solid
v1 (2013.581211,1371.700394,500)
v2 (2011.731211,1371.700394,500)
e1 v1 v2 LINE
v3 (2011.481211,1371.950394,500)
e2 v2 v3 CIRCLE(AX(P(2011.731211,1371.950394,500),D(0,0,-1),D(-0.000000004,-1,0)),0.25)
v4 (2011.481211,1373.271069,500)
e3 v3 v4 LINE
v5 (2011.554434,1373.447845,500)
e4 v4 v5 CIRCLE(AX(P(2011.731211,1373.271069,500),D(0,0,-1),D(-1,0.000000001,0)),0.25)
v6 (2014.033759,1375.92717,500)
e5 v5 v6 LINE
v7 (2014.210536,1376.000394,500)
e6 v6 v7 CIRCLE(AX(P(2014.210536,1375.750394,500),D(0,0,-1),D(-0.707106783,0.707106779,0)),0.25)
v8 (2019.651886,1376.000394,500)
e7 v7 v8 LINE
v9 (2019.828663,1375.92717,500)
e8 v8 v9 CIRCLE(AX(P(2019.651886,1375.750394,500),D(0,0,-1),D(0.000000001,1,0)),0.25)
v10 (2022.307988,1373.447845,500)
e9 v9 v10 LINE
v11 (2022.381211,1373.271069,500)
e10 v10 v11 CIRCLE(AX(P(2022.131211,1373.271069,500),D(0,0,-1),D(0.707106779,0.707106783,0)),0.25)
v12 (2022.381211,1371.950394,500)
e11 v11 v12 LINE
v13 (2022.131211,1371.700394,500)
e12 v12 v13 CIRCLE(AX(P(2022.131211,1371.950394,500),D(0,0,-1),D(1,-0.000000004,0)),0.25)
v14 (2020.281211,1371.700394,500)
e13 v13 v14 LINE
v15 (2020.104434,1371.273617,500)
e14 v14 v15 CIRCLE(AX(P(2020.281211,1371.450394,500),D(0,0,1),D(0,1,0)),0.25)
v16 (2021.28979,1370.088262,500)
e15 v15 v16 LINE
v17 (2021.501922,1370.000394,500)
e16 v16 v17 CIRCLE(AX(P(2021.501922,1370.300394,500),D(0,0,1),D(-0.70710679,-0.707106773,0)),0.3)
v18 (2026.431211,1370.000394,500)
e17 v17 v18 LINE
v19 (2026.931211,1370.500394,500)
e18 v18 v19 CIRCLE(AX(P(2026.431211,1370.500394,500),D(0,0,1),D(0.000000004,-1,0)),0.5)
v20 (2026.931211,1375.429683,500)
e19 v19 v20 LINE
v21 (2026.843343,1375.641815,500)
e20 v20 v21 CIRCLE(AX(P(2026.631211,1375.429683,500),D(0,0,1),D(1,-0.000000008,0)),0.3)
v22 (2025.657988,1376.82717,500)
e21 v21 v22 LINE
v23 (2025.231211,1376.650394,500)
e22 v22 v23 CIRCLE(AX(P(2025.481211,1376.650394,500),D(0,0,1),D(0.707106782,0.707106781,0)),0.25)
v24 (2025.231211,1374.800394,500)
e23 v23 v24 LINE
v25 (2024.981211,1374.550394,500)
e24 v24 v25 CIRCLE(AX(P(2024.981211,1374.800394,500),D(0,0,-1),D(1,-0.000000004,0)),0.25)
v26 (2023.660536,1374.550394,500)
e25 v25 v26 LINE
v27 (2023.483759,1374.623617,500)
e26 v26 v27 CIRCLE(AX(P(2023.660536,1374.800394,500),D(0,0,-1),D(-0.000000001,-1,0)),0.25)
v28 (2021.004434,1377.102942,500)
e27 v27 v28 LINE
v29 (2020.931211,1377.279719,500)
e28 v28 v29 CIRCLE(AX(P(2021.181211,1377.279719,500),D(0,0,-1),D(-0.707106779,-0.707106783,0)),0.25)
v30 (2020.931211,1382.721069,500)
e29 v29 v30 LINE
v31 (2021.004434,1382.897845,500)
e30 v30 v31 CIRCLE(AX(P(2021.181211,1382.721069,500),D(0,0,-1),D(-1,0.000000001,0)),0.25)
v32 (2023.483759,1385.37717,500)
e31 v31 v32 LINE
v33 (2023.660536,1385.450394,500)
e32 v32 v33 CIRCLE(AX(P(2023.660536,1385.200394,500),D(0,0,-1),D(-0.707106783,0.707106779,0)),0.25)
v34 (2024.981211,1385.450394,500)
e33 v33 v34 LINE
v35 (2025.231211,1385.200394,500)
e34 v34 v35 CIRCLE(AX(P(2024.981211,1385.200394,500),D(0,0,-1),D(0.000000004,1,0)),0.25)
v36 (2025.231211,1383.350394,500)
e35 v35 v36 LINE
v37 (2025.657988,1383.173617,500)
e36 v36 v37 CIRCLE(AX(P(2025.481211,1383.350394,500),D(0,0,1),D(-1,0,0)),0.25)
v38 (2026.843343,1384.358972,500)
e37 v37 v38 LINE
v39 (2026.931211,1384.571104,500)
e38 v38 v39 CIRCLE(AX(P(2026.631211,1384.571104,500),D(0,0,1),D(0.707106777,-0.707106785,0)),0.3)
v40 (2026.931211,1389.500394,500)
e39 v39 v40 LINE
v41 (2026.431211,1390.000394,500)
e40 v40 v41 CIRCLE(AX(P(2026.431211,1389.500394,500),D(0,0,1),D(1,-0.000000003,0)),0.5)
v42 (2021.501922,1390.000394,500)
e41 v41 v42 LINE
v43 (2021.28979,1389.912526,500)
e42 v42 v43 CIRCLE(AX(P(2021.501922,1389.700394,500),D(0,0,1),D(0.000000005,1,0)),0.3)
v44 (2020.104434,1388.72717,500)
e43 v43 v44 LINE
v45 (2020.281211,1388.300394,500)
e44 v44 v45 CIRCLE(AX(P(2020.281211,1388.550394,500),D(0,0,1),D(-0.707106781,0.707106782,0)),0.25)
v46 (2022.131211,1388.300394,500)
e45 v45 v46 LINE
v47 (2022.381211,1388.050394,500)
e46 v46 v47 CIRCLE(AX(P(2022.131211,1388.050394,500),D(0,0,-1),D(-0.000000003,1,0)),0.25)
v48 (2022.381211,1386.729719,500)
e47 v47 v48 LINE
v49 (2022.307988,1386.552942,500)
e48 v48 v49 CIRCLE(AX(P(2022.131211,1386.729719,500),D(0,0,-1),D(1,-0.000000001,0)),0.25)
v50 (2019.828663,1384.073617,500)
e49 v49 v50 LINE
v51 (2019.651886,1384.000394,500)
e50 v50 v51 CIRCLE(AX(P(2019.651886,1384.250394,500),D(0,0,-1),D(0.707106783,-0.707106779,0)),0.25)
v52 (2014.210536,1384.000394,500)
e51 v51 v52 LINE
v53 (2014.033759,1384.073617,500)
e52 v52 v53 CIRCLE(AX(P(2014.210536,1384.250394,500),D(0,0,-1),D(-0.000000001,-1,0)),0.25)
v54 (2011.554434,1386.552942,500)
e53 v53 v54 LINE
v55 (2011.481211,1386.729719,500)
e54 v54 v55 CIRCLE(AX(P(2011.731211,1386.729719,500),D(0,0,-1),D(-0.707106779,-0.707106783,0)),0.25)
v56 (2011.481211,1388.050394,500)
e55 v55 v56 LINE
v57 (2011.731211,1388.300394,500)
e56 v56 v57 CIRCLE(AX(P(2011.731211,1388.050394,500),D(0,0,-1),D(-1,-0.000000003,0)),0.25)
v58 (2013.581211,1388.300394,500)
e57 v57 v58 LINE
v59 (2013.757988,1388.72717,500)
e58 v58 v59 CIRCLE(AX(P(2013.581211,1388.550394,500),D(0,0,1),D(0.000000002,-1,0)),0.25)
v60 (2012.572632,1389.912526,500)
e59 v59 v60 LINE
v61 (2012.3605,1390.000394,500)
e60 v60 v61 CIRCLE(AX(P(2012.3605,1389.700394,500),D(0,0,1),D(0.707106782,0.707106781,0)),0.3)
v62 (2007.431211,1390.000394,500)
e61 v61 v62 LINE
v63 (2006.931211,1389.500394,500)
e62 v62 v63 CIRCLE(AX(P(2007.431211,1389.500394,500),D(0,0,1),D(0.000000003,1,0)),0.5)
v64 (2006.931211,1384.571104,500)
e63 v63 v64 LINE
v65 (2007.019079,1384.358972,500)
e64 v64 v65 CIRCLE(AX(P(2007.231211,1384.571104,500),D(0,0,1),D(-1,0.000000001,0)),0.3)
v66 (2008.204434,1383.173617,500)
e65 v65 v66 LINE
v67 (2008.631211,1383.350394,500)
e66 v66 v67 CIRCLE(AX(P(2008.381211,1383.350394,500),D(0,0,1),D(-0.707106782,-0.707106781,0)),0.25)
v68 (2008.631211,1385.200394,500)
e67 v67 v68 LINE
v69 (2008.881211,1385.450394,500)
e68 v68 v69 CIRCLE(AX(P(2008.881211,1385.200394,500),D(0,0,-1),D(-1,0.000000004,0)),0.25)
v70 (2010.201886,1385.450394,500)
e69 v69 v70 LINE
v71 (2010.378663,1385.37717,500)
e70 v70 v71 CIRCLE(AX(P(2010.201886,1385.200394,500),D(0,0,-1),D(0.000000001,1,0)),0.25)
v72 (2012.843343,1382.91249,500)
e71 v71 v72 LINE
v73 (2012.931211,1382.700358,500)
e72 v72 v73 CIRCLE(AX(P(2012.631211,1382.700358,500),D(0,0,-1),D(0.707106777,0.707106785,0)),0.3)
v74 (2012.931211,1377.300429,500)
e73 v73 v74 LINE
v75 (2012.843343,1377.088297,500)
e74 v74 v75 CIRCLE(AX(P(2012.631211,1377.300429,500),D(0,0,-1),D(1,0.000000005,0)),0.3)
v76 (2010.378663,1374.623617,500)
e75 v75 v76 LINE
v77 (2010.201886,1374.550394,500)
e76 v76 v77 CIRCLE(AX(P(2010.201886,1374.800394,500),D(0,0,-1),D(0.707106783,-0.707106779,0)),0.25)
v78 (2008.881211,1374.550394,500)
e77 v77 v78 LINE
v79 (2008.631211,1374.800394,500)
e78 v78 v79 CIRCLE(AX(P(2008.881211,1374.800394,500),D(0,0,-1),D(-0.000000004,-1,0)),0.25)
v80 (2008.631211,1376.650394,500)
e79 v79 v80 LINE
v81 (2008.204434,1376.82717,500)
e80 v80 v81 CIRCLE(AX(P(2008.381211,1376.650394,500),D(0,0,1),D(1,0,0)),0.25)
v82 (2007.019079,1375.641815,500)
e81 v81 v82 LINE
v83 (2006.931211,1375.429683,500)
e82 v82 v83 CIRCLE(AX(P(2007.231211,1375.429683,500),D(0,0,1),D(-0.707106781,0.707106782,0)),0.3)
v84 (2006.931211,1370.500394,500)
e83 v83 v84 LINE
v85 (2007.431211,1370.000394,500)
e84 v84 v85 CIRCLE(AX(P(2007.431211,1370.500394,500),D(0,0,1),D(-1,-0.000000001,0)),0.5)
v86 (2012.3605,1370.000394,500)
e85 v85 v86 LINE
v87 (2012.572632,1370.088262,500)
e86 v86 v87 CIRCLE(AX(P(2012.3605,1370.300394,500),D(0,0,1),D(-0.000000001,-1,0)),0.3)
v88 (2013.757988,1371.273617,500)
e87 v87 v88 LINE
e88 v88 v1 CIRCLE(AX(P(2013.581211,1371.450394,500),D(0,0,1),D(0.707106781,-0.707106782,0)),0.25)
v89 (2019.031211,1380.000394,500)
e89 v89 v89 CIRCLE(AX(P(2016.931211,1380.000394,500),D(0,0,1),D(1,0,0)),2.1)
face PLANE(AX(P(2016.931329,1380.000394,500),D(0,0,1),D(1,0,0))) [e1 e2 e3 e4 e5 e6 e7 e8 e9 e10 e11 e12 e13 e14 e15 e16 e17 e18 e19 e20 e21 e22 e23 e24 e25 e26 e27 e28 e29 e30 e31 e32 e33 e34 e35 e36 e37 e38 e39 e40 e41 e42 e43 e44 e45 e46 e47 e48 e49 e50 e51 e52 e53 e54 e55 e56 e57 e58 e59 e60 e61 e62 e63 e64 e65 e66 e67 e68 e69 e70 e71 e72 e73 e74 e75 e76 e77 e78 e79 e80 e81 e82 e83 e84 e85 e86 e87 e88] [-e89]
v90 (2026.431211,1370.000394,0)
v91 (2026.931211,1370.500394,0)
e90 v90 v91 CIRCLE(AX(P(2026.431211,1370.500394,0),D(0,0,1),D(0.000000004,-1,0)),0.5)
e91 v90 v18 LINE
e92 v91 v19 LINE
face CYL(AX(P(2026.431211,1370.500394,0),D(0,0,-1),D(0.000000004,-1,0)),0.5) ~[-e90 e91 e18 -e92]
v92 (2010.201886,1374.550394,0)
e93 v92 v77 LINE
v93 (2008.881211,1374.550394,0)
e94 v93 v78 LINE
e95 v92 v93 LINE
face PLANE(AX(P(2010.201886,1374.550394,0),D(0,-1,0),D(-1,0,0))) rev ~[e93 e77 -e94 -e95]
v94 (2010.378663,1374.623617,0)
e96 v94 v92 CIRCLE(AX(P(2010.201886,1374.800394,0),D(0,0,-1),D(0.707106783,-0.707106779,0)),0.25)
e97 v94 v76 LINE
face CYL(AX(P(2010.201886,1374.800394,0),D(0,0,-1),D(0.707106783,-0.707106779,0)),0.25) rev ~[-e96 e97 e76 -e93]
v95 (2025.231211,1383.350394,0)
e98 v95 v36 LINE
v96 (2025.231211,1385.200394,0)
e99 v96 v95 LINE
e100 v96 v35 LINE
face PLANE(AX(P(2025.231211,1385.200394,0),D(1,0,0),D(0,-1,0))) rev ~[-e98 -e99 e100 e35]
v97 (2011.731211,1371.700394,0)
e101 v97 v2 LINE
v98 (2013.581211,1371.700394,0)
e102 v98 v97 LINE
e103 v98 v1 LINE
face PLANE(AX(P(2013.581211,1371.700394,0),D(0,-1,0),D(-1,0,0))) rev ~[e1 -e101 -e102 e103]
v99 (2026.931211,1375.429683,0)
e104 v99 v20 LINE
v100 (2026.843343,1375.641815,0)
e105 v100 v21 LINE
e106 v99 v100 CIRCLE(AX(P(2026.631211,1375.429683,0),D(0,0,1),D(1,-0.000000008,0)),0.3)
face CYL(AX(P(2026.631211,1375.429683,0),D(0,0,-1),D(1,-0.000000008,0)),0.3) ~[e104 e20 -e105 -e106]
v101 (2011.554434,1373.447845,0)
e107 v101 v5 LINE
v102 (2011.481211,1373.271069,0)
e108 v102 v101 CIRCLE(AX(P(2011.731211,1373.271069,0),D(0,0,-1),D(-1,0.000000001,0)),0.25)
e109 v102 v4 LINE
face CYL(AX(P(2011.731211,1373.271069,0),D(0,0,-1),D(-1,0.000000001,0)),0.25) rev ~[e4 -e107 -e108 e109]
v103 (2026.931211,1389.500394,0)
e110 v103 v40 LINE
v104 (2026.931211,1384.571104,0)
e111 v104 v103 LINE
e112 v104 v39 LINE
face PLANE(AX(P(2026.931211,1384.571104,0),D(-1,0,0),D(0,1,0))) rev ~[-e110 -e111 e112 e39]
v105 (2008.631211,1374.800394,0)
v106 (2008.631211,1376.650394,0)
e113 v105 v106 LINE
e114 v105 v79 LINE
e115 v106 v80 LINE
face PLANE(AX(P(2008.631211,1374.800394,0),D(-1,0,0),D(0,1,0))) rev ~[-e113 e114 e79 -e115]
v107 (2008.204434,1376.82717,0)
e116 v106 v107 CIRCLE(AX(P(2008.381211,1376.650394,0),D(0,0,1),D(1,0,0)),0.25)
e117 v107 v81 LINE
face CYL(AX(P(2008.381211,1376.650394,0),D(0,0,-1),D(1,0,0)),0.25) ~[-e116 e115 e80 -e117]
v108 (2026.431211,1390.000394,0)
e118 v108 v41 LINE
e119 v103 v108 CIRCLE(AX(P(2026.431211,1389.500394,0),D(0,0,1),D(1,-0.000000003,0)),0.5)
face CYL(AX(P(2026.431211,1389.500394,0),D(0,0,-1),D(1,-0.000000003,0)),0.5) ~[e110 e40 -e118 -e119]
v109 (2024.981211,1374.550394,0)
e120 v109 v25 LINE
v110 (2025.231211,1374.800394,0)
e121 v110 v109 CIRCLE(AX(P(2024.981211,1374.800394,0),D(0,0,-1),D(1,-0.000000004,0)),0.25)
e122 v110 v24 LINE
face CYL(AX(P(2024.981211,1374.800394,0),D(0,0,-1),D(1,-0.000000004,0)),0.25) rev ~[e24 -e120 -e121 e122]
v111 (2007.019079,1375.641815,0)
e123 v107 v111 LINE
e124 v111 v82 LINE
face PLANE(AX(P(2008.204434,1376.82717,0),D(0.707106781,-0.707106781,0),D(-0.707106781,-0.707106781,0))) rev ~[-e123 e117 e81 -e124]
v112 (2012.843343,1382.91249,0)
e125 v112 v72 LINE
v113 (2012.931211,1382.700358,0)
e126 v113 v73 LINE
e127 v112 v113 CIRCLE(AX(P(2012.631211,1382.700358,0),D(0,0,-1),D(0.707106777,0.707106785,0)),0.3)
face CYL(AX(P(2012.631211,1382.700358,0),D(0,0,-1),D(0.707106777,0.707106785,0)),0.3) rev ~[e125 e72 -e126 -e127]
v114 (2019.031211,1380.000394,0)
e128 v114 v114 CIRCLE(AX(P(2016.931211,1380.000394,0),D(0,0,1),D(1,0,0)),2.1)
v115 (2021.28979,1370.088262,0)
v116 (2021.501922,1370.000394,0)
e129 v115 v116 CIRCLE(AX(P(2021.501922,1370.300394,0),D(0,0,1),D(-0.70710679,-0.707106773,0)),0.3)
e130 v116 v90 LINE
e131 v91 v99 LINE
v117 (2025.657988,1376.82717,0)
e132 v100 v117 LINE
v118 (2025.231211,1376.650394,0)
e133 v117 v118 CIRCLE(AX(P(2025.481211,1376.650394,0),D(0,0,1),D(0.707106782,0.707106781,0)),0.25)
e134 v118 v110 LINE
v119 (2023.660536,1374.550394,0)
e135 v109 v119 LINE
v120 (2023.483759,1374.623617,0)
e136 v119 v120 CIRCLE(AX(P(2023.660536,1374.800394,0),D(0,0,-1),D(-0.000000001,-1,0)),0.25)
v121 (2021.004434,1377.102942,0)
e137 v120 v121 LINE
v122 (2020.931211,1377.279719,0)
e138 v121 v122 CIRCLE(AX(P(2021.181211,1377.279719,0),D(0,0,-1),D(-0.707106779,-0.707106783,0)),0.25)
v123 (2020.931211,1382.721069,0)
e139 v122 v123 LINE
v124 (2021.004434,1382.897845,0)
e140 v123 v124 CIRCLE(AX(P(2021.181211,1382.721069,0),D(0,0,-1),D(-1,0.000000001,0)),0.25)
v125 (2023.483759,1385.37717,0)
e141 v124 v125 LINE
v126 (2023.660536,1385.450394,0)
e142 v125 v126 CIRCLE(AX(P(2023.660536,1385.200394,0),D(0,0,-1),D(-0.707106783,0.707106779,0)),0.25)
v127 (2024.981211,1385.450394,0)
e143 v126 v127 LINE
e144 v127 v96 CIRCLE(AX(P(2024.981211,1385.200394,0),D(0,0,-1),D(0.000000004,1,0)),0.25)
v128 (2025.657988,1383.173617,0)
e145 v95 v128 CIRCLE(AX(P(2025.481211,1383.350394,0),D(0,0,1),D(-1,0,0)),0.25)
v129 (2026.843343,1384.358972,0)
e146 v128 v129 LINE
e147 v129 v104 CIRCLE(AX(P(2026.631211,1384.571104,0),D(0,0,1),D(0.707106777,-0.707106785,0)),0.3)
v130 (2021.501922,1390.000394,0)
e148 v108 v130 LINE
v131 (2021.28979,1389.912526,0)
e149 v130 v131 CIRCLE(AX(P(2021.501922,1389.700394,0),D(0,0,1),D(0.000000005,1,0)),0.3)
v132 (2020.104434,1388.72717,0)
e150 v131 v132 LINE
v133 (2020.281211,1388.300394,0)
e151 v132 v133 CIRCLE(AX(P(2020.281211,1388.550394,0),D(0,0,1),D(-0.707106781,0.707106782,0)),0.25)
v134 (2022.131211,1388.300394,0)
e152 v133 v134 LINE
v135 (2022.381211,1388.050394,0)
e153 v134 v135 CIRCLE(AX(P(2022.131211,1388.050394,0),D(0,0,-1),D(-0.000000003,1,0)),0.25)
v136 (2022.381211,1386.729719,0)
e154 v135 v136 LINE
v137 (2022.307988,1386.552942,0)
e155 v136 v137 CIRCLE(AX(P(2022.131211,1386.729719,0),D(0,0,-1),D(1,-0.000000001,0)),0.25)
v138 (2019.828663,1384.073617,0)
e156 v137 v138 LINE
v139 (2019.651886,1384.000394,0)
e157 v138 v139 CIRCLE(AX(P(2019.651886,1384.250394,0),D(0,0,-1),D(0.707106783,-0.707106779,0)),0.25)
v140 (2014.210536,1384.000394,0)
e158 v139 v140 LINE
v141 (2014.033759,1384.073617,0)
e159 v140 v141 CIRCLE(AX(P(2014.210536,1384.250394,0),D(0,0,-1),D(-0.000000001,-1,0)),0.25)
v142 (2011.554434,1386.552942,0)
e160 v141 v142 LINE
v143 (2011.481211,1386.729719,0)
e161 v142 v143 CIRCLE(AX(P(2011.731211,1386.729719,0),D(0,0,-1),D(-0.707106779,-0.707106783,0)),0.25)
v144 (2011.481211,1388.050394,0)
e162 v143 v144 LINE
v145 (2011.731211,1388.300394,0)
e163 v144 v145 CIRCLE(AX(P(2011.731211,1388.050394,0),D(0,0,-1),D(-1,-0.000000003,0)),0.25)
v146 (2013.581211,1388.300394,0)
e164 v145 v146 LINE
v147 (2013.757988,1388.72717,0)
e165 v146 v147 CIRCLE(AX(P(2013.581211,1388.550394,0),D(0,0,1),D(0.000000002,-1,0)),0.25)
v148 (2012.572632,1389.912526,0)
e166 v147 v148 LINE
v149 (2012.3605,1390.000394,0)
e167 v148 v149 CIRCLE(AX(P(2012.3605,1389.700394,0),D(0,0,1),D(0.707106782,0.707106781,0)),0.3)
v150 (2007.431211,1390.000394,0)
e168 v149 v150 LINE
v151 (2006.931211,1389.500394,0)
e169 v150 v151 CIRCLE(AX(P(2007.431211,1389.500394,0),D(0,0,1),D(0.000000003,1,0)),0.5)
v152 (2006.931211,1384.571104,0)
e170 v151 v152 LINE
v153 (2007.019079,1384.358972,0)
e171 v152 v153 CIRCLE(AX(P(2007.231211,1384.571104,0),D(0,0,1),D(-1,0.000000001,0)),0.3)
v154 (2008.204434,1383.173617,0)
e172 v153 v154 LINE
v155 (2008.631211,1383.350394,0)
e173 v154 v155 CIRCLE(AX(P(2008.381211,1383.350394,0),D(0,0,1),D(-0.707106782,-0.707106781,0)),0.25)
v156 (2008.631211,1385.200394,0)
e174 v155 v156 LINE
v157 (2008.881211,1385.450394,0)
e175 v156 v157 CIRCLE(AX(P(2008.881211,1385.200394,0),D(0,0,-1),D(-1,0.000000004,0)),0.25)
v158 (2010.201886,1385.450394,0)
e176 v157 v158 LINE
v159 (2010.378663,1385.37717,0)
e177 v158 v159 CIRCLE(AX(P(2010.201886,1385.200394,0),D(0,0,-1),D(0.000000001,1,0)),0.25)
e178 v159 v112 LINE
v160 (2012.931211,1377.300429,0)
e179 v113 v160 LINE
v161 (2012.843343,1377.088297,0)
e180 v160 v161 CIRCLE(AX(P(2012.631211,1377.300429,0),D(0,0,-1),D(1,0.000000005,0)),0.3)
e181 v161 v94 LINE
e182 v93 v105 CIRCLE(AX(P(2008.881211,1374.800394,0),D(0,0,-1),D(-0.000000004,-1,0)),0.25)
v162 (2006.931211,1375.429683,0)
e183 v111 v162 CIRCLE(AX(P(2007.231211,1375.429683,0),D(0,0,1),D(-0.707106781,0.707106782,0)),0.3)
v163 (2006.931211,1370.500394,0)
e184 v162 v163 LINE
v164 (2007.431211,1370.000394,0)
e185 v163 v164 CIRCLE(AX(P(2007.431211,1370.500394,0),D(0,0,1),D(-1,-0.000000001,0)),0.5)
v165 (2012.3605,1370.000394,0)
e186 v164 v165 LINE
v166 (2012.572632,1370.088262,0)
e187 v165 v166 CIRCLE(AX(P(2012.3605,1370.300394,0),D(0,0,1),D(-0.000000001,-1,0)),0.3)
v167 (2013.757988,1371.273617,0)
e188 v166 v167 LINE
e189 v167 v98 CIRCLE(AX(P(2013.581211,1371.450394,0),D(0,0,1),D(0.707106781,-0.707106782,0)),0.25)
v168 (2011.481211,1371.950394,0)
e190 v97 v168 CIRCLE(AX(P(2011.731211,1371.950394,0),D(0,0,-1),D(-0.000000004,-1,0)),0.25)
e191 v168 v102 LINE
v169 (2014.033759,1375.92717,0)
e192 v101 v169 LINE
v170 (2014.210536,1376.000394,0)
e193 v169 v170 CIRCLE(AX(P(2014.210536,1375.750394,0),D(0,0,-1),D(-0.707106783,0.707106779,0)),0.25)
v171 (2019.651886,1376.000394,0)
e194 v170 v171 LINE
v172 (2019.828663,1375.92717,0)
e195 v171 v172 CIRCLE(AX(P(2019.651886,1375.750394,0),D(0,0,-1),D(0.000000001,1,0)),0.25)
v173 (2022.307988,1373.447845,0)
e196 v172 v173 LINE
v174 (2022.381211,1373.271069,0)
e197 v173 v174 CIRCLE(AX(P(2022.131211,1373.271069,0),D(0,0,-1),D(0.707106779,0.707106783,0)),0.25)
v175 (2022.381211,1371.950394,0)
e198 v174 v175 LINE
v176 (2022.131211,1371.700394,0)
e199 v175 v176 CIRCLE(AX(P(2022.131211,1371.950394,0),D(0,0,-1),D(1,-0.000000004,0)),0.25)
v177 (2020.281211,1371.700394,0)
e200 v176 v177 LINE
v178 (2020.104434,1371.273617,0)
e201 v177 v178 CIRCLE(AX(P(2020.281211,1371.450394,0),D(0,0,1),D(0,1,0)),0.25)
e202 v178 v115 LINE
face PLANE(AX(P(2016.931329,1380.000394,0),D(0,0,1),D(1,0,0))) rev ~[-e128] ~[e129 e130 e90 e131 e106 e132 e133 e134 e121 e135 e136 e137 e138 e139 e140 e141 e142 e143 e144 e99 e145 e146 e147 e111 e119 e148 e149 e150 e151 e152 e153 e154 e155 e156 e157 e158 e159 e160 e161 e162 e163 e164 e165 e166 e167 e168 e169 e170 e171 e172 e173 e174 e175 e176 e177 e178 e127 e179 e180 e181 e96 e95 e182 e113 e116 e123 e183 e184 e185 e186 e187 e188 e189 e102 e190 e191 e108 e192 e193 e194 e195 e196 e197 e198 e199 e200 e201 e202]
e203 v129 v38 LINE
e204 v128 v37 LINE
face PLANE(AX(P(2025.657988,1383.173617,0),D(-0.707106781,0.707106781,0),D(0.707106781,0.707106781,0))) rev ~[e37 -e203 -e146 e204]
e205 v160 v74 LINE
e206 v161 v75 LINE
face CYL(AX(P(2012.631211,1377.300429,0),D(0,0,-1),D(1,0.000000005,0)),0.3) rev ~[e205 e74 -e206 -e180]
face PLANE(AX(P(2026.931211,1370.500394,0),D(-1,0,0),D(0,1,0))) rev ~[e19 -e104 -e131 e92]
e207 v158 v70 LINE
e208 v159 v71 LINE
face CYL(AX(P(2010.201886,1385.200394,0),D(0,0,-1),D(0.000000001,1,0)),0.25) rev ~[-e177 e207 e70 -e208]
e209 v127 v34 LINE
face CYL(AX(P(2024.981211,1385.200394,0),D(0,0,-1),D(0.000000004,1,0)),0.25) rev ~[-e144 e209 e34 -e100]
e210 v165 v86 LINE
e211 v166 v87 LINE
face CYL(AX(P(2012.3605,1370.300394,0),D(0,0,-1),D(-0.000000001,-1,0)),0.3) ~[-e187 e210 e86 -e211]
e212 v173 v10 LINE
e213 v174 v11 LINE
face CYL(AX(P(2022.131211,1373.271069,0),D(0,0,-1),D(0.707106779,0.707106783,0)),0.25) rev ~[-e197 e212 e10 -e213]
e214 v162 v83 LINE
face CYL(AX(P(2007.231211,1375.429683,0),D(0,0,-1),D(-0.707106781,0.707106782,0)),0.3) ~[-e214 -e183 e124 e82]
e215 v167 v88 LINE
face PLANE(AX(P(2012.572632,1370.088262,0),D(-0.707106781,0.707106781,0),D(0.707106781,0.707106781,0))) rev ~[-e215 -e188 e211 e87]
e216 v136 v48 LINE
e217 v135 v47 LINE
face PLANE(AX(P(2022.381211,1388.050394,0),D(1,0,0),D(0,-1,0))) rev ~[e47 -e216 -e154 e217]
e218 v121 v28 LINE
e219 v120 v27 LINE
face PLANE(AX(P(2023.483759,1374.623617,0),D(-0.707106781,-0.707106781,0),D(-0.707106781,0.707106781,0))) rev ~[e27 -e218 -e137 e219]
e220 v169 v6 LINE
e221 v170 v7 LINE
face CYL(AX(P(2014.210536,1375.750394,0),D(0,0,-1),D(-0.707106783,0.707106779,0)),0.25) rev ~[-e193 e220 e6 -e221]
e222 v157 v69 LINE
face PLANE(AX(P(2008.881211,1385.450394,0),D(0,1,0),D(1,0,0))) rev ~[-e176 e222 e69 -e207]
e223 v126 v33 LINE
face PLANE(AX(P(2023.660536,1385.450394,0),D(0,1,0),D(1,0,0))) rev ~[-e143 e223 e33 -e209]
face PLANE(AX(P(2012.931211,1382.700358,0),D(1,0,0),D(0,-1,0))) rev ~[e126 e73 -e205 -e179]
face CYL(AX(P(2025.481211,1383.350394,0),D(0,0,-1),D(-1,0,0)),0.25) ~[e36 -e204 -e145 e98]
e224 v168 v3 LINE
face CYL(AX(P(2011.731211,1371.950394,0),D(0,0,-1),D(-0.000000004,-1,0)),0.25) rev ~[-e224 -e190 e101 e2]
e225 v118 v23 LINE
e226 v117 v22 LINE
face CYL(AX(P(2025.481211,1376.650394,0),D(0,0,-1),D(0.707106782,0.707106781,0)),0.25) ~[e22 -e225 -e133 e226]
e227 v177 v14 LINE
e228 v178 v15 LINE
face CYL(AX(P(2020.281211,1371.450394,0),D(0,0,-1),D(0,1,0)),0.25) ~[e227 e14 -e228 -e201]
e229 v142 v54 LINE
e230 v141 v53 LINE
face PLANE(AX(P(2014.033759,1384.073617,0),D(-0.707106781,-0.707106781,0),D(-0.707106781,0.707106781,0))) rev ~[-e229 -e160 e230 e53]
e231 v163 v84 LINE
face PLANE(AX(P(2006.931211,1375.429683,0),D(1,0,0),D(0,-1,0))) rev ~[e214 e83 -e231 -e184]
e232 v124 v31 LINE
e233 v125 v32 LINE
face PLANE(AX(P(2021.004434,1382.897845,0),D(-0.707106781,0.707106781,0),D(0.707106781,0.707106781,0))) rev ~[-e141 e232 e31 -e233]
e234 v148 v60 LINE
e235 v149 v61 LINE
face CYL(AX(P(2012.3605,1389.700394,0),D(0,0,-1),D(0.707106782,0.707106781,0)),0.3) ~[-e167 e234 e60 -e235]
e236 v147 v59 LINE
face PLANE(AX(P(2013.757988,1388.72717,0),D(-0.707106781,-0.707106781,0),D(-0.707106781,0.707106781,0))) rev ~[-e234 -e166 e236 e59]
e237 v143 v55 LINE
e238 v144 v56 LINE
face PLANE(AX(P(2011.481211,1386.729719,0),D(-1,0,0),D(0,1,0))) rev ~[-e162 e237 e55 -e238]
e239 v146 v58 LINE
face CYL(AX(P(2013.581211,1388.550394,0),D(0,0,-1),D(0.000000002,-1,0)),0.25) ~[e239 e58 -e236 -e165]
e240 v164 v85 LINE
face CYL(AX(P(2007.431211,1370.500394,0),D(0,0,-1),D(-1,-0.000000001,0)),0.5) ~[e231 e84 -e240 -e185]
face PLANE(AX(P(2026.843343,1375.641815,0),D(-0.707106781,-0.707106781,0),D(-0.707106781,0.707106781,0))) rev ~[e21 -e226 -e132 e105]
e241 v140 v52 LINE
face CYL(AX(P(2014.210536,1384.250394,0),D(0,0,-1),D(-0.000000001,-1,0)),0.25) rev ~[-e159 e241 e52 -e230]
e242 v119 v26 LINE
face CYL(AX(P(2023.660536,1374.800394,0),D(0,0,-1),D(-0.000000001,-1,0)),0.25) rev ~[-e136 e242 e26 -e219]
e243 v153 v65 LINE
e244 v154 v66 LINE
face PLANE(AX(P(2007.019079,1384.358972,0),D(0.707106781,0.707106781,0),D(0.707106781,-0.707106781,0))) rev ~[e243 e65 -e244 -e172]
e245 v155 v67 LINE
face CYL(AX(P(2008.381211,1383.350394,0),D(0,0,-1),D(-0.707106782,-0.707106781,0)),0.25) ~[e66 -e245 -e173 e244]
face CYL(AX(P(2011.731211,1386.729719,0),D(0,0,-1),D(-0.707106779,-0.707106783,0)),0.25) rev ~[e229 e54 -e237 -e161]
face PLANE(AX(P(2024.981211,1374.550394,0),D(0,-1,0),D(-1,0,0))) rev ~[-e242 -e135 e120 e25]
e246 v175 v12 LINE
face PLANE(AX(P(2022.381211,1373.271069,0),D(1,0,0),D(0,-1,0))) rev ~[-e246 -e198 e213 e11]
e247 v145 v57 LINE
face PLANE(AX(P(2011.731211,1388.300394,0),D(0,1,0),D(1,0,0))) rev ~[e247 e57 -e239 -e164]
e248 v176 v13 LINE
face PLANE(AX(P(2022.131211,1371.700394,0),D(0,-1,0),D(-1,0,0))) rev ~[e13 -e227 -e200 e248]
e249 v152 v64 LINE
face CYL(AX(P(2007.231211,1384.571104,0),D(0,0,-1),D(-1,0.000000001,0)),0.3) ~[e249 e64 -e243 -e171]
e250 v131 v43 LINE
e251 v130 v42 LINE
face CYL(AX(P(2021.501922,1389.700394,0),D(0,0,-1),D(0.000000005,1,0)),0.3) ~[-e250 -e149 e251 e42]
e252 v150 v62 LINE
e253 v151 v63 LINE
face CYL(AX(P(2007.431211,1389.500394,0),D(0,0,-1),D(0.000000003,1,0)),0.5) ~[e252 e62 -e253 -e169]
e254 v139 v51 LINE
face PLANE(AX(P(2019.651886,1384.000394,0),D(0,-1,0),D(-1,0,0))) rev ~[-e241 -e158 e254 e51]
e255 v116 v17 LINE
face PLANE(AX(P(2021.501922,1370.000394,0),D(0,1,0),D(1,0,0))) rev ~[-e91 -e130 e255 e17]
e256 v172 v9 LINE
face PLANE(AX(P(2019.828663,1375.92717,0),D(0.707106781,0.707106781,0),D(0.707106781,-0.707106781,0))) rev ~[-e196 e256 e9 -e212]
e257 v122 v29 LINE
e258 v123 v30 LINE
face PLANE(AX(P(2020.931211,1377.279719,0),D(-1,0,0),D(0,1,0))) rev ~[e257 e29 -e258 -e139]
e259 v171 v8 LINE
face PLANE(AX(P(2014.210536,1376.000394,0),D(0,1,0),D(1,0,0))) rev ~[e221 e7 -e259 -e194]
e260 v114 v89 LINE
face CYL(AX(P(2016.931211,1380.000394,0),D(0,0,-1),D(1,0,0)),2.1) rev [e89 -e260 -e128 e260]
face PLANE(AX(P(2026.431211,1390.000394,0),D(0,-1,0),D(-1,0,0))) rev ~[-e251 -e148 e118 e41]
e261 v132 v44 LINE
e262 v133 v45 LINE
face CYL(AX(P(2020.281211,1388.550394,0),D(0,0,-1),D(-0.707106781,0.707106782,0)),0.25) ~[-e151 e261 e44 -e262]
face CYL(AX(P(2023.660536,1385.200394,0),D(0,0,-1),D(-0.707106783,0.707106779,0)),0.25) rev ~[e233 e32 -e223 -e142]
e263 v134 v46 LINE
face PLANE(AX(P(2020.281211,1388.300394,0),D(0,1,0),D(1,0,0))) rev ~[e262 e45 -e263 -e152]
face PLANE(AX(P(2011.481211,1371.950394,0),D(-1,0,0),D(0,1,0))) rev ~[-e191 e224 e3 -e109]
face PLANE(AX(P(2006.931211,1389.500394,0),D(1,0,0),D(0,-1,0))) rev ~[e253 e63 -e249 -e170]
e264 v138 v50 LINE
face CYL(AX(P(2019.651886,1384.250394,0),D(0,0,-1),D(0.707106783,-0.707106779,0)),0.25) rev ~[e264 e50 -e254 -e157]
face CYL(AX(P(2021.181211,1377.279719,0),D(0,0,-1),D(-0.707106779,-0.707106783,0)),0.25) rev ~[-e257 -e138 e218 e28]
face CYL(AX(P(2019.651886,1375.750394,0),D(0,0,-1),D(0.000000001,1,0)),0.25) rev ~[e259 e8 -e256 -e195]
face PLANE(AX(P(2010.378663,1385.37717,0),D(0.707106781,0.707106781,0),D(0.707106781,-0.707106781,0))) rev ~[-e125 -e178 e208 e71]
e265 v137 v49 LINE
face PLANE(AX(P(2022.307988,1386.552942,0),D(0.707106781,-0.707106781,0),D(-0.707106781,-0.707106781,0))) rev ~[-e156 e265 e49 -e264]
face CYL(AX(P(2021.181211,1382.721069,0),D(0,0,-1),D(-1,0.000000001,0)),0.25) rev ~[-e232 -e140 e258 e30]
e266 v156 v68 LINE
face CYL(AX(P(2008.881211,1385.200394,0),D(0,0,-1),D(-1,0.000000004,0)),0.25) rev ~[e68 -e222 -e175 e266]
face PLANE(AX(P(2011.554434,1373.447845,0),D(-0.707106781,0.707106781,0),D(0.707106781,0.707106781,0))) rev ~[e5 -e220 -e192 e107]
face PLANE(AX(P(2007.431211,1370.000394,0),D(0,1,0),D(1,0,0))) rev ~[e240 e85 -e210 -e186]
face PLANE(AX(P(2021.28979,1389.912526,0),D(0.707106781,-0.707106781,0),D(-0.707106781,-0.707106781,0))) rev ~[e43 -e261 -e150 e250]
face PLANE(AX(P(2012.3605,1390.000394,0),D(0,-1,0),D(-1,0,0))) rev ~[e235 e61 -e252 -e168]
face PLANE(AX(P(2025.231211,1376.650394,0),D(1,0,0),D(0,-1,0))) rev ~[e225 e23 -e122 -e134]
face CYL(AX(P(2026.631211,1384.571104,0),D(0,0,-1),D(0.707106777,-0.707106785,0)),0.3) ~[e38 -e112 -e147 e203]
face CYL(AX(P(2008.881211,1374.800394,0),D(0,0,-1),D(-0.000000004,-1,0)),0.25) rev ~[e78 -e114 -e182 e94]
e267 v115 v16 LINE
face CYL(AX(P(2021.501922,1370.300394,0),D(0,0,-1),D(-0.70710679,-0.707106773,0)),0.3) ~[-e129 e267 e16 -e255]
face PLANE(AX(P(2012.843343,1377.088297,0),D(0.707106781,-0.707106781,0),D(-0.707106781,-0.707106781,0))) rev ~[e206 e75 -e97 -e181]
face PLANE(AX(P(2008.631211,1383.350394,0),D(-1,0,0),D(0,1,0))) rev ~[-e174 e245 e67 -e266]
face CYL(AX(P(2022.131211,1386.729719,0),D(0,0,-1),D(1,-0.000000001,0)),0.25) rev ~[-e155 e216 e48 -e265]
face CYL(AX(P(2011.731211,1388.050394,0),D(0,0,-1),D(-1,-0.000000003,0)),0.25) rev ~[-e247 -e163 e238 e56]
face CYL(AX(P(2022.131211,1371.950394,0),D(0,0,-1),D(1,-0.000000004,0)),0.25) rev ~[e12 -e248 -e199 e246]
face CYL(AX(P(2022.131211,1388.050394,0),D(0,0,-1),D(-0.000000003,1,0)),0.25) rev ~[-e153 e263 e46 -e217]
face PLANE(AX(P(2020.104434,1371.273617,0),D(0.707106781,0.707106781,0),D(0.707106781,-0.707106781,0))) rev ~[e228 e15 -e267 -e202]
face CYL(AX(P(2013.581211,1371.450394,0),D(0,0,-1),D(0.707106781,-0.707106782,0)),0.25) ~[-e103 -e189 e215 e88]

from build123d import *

# Parameters (mm, degrees)
MODEL_R             = 2.1
BOSS_EXTRUDE1_DEPTH = 500


with BuildPart() as part:
    # Model → Boss-Extrude1 (new body)
    with BuildSketch(Plane.XY):
        with BuildLine():
            Line((2012.931211125, 1381.800393717), (2012.931211125, 1378.200393717))
            Line((2012.931211125, 1378.200393717), (2012.931211125, 1377.300429431))
            ThreePointArc((2012.931211125, 1377.300429431), (2012.908374985, 1377.185624401), (2012.843343159, 1377.088297396))
            Line((2012.843343159, 1377.088297396), (2010.378662785, 1374.623617022))
            ThreePointArc((2010.378662785, 1374.623617022), (2010.297556948, 1374.569423834), (2010.20188609, 1374.550393717))
            Line((2010.20188609, 1374.550393717), (2008.881211125, 1374.550393717))
            ThreePointArc((2008.881211125, 1374.550393717), (2008.70443443, 1374.623617022), (2008.631211125, 1374.800393717))
            Line((2008.631211125, 1374.800393717), (2008.631211125, 1376.650393717))
            ThreePointArc((2008.631211125, 1376.650393717), (2008.476881983, 1376.8813636), (2008.20443443, 1376.827170412))
            Line((2008.20443443, 1376.827170412), (2007.01907909, 1375.641815073))
            ThreePointArc((2007.01907909, 1375.641815073), (2006.954047265, 1375.544488069), (2006.931211125, 1375.429683039))
            Line((2006.931211125, 1375.429683039), (2006.931211125, 1370.500393717))
            ThreePointArc((2006.931211125, 1370.500393717), (2007.077657734, 1370.146840327), (2007.431211125, 1370.000393717))
            Line((2007.431211125, 1370.000393717), (2012.360500447, 1370.000393717))
            ThreePointArc((2012.360500447, 1370.000393717), (2012.475305476, 1370.023229857), (2012.572632481, 1370.088261683))
            Line((2012.572632481, 1370.088261683), (2013.75798782, 1371.273617022))
            ThreePointArc((2013.75798782, 1371.273617022), (2013.812181008, 1371.546064575), (2013.581211125, 1371.700393717))
            Line((2013.581211125, 1371.700393717), (2011.731211125, 1371.700393717))
            ThreePointArc((2011.731211125, 1371.700393717), (2011.55443443, 1371.773617022), (2011.481211125, 1371.950393717))
            Line((2011.481211125, 1371.950393717), (2011.481211125, 1373.271068682))
            ThreePointArc((2011.481211125, 1373.271068682), (2011.500241242, 1373.36673954), (2011.55443443, 1373.447845377))
            Line((2011.55443443, 1373.447845377), (2014.033759465, 1375.927170412))
            ThreePointArc((2014.033759465, 1375.927170412), (2014.114865302, 1375.9813636), (2014.21053616, 1376.000393717))
            Line((2014.21053616, 1376.000393717), (2016.470233902, 1376.000393717))
            Line((2016.470233902, 1376.000393717), (2017.392188348, 1376.000393717))
            Line((2017.392188348, 1376.000393717), (2019.65188609, 1376.000393717))
            ThreePointArc((2019.65188609, 1376.000393717), (2019.747556948, 1375.9813636), (2019.828662785, 1375.927170412))
            Line((2019.828662785, 1375.927170412), (2022.30798782, 1373.447845377))
            ThreePointArc((2022.30798782, 1373.447845377), (2022.362181008, 1373.36673954), (2022.381211125, 1373.271068682))
            Line((2022.381211125, 1373.271068682), (2022.381211125, 1371.950393717))
            ThreePointArc((2022.381211125, 1371.950393717), (2022.30798782, 1371.773617022), (2022.131211125, 1371.700393717))
            Line((2022.131211125, 1371.700393717), (2020.281211125, 1371.700393717))
            ThreePointArc((2020.281211125, 1371.700393717), (2020.050241242, 1371.546064575), (2020.10443443, 1371.273617022))
            Line((2020.10443443, 1371.273617022), (2021.289789769, 1370.088261683))
            ThreePointArc((2021.289789769, 1370.088261683), (2021.387116773, 1370.023229857), (2021.501921803, 1370.000393717))
            Line((2021.501921803, 1370.000393717), (2026.431211125, 1370.000393717))
            ThreePointArc((2026.431211125, 1370.000393717), (2026.784764515, 1370.146840327), (2026.931211125, 1370.500393717))
            Line((2026.931211125, 1370.500393717), (2026.931211125, 1375.429683039))
            ThreePointArc((2026.931211125, 1375.429683039), (2026.908374985, 1375.544488069), (2026.843343159, 1375.641815073))
            Line((2026.843343159, 1375.641815073), (2025.65798782, 1376.827170412))
            ThreePointArc((2025.65798782, 1376.827170412), (2025.385540267, 1376.8813636), (2025.231211125, 1376.650393717))
            Line((2025.231211125, 1376.650393717), (2025.231211125, 1374.800393717))
            ThreePointArc((2025.231211125, 1374.800393717), (2025.15798782, 1374.623617022), (2024.981211125, 1374.550393717))
            Line((2024.981211125, 1374.550393717), (2023.66053616, 1374.550393717))
            ThreePointArc((2023.66053616, 1374.550393717), (2023.564865302, 1374.569423834), (2023.483759465, 1374.623617022))
            Line((2023.483759465, 1374.623617022), (2021.00443443, 1377.102942057))
            ThreePointArc((2021.00443443, 1377.102942057), (2020.950241242, 1377.184047894), (2020.931211125, 1377.279718752))
            Line((2020.931211125, 1377.279718752), (2020.931211125, 1379.539416494))
            Line((2020.931211125, 1379.539416494), (2020.931211125, 1380.46137094))
            Line((2020.931211125, 1380.46137094), (2020.931211125, 1382.721068682))
            ThreePointArc((2020.931211125, 1382.721068682), (2020.950241242, 1382.81673954), (2021.00443443, 1382.897845377))
            Line((2021.00443443, 1382.897845377), (2023.483759465, 1385.377170412))
            ThreePointArc((2023.483759465, 1385.377170412), (2023.564865302, 1385.4313636), (2023.66053616, 1385.450393717))
            Line((2023.66053616, 1385.450393717), (2024.981211125, 1385.450393717))
            ThreePointArc((2024.981211125, 1385.450393717), (2025.15798782, 1385.377170412), (2025.231211125, 1385.200393717))
            Line((2025.231211125, 1385.200393717), (2025.231211125, 1383.350393717))
            ThreePointArc((2025.231211125, 1383.350393717), (2025.385540267, 1383.119423834), (2025.65798782, 1383.173617022))
            Line((2025.65798782, 1383.173617022), (2026.843343159, 1384.358972361))
            ThreePointArc((2026.843343159, 1384.358972361), (2026.908374985, 1384.456299366), (2026.931211125, 1384.571104395))
            Line((2026.931211125, 1384.571104395), (2026.931211125, 1389.500393717))
            ThreePointArc((2026.931211125, 1389.500393717), (2026.784764516, 1389.853947108), (2026.431211125, 1390.000393717))
            Line((2026.431211125, 1390.000393717), (2021.501921803, 1390.000393717))
            ThreePointArc((2021.501921803, 1390.000393717), (2021.387116773, 1389.977557577), (2021.289789769, 1389.912525752))
            Line((2021.289789769, 1389.912525752), (2020.10443443, 1388.727170413))
            ThreePointArc((2020.10443443, 1388.727170413), (2020.050241242, 1388.454722859), (2020.281211125, 1388.300393717))
            Line((2020.281211125, 1388.300393717), (2022.131211125, 1388.300393717))
            ThreePointArc((2022.131211125, 1388.300393717), (2022.30798782, 1388.227170413), (2022.381211125, 1388.050393717))
            Line((2022.381211125, 1388.050393717), (2022.381211125, 1386.729718752))
            ThreePointArc((2022.381211125, 1386.729718752), (2022.362181008, 1386.634047894), (2022.30798782, 1386.552942057))
            Line((2022.30798782, 1386.552942057), (2019.828662785, 1384.073617022))
            ThreePointArc((2019.828662785, 1384.073617022), (2019.747556948, 1384.019423834), (2019.65188609, 1384.000393717))
            Line((2019.65188609, 1384.000393717), (2017.392188348, 1384.000393717))
            Line((2017.392188348, 1384.000393717), (2016.470233902, 1384.000393717))
            Line((2016.470233902, 1384.000393717), (2014.21053616, 1384.000393717))
            ThreePointArc((2014.21053616, 1384.000393717), (2014.114865302, 1384.019423834), (2014.033759465, 1384.073617022))
            Line((2014.033759465, 1384.073617022), (2011.55443443, 1386.552942057))
            ThreePointArc((2011.55443443, 1386.552942057), (2011.500241242, 1386.634047894), (2011.481211125, 1386.729718752))
            Line((2011.481211125, 1386.729718752), (2011.481211125, 1388.050393717))
            ThreePointArc((2011.481211125, 1388.050393717), (2011.55443443, 1388.227170413), (2011.731211125, 1388.300393717))
            Line((2011.731211125, 1388.300393717), (2013.581211125, 1388.300393717))
            ThreePointArc((2013.581211125, 1388.300393717), (2013.812181008, 1388.454722859), (2013.75798782, 1388.727170413))
            Line((2013.75798782, 1388.727170413), (2012.572632481, 1389.912525752))
            ThreePointArc((2012.572632481, 1389.912525752), (2012.475305477, 1389.977557577), (2012.360500447, 1390.000393717))
            Line((2012.360500447, 1390.000393717), (2007.431211125, 1390.000393717))
            ThreePointArc((2007.431211125, 1390.000393717), (2007.077657734, 1389.853947108), (2006.931211125, 1389.500393717))
            Line((2006.931211125, 1389.500393717), (2006.931211125, 1384.571104395))
            ThreePointArc((2006.931211125, 1384.571104395), (2006.954047265, 1384.456299366), (2007.019079091, 1384.358972361))
            Line((2007.019079091, 1384.358972361), (2008.20443443, 1383.173617022))
            ThreePointArc((2008.20443443, 1383.173617022), (2008.476881983, 1383.119423834), (2008.631211125, 1383.350393717))
            Line((2008.631211125, 1383.350393717), (2008.631211125, 1385.200393717))
            ThreePointArc((2008.631211125, 1385.200393717), (2008.70443443, 1385.377170412), (2008.881211125, 1385.450393717))
            Line((2008.881211125, 1385.450393717), (2010.20188609, 1385.450393717))
            ThreePointArc((2010.20188609, 1385.450393717), (2010.297556948, 1385.4313636), (2010.378662785, 1385.377170412))
            Line((2010.378662785, 1385.377170412), (2012.843343159, 1382.912490038))
            ThreePointArc((2012.843343159, 1382.912490038), (2012.908374985, 1382.815163033), (2012.931211125, 1382.700358004))
            Line((2012.931211125, 1382.700358004), (2012.931211125, 1381.800393717))
        make_face()
        with Locations((2016.931211125, 1380.000393717)):
            Circle(MODEL_R, mode=Mode.SUBTRACT)
    extrude(amount=BOSS_EXTRUDE1_DEPTH)


solid = part.part
